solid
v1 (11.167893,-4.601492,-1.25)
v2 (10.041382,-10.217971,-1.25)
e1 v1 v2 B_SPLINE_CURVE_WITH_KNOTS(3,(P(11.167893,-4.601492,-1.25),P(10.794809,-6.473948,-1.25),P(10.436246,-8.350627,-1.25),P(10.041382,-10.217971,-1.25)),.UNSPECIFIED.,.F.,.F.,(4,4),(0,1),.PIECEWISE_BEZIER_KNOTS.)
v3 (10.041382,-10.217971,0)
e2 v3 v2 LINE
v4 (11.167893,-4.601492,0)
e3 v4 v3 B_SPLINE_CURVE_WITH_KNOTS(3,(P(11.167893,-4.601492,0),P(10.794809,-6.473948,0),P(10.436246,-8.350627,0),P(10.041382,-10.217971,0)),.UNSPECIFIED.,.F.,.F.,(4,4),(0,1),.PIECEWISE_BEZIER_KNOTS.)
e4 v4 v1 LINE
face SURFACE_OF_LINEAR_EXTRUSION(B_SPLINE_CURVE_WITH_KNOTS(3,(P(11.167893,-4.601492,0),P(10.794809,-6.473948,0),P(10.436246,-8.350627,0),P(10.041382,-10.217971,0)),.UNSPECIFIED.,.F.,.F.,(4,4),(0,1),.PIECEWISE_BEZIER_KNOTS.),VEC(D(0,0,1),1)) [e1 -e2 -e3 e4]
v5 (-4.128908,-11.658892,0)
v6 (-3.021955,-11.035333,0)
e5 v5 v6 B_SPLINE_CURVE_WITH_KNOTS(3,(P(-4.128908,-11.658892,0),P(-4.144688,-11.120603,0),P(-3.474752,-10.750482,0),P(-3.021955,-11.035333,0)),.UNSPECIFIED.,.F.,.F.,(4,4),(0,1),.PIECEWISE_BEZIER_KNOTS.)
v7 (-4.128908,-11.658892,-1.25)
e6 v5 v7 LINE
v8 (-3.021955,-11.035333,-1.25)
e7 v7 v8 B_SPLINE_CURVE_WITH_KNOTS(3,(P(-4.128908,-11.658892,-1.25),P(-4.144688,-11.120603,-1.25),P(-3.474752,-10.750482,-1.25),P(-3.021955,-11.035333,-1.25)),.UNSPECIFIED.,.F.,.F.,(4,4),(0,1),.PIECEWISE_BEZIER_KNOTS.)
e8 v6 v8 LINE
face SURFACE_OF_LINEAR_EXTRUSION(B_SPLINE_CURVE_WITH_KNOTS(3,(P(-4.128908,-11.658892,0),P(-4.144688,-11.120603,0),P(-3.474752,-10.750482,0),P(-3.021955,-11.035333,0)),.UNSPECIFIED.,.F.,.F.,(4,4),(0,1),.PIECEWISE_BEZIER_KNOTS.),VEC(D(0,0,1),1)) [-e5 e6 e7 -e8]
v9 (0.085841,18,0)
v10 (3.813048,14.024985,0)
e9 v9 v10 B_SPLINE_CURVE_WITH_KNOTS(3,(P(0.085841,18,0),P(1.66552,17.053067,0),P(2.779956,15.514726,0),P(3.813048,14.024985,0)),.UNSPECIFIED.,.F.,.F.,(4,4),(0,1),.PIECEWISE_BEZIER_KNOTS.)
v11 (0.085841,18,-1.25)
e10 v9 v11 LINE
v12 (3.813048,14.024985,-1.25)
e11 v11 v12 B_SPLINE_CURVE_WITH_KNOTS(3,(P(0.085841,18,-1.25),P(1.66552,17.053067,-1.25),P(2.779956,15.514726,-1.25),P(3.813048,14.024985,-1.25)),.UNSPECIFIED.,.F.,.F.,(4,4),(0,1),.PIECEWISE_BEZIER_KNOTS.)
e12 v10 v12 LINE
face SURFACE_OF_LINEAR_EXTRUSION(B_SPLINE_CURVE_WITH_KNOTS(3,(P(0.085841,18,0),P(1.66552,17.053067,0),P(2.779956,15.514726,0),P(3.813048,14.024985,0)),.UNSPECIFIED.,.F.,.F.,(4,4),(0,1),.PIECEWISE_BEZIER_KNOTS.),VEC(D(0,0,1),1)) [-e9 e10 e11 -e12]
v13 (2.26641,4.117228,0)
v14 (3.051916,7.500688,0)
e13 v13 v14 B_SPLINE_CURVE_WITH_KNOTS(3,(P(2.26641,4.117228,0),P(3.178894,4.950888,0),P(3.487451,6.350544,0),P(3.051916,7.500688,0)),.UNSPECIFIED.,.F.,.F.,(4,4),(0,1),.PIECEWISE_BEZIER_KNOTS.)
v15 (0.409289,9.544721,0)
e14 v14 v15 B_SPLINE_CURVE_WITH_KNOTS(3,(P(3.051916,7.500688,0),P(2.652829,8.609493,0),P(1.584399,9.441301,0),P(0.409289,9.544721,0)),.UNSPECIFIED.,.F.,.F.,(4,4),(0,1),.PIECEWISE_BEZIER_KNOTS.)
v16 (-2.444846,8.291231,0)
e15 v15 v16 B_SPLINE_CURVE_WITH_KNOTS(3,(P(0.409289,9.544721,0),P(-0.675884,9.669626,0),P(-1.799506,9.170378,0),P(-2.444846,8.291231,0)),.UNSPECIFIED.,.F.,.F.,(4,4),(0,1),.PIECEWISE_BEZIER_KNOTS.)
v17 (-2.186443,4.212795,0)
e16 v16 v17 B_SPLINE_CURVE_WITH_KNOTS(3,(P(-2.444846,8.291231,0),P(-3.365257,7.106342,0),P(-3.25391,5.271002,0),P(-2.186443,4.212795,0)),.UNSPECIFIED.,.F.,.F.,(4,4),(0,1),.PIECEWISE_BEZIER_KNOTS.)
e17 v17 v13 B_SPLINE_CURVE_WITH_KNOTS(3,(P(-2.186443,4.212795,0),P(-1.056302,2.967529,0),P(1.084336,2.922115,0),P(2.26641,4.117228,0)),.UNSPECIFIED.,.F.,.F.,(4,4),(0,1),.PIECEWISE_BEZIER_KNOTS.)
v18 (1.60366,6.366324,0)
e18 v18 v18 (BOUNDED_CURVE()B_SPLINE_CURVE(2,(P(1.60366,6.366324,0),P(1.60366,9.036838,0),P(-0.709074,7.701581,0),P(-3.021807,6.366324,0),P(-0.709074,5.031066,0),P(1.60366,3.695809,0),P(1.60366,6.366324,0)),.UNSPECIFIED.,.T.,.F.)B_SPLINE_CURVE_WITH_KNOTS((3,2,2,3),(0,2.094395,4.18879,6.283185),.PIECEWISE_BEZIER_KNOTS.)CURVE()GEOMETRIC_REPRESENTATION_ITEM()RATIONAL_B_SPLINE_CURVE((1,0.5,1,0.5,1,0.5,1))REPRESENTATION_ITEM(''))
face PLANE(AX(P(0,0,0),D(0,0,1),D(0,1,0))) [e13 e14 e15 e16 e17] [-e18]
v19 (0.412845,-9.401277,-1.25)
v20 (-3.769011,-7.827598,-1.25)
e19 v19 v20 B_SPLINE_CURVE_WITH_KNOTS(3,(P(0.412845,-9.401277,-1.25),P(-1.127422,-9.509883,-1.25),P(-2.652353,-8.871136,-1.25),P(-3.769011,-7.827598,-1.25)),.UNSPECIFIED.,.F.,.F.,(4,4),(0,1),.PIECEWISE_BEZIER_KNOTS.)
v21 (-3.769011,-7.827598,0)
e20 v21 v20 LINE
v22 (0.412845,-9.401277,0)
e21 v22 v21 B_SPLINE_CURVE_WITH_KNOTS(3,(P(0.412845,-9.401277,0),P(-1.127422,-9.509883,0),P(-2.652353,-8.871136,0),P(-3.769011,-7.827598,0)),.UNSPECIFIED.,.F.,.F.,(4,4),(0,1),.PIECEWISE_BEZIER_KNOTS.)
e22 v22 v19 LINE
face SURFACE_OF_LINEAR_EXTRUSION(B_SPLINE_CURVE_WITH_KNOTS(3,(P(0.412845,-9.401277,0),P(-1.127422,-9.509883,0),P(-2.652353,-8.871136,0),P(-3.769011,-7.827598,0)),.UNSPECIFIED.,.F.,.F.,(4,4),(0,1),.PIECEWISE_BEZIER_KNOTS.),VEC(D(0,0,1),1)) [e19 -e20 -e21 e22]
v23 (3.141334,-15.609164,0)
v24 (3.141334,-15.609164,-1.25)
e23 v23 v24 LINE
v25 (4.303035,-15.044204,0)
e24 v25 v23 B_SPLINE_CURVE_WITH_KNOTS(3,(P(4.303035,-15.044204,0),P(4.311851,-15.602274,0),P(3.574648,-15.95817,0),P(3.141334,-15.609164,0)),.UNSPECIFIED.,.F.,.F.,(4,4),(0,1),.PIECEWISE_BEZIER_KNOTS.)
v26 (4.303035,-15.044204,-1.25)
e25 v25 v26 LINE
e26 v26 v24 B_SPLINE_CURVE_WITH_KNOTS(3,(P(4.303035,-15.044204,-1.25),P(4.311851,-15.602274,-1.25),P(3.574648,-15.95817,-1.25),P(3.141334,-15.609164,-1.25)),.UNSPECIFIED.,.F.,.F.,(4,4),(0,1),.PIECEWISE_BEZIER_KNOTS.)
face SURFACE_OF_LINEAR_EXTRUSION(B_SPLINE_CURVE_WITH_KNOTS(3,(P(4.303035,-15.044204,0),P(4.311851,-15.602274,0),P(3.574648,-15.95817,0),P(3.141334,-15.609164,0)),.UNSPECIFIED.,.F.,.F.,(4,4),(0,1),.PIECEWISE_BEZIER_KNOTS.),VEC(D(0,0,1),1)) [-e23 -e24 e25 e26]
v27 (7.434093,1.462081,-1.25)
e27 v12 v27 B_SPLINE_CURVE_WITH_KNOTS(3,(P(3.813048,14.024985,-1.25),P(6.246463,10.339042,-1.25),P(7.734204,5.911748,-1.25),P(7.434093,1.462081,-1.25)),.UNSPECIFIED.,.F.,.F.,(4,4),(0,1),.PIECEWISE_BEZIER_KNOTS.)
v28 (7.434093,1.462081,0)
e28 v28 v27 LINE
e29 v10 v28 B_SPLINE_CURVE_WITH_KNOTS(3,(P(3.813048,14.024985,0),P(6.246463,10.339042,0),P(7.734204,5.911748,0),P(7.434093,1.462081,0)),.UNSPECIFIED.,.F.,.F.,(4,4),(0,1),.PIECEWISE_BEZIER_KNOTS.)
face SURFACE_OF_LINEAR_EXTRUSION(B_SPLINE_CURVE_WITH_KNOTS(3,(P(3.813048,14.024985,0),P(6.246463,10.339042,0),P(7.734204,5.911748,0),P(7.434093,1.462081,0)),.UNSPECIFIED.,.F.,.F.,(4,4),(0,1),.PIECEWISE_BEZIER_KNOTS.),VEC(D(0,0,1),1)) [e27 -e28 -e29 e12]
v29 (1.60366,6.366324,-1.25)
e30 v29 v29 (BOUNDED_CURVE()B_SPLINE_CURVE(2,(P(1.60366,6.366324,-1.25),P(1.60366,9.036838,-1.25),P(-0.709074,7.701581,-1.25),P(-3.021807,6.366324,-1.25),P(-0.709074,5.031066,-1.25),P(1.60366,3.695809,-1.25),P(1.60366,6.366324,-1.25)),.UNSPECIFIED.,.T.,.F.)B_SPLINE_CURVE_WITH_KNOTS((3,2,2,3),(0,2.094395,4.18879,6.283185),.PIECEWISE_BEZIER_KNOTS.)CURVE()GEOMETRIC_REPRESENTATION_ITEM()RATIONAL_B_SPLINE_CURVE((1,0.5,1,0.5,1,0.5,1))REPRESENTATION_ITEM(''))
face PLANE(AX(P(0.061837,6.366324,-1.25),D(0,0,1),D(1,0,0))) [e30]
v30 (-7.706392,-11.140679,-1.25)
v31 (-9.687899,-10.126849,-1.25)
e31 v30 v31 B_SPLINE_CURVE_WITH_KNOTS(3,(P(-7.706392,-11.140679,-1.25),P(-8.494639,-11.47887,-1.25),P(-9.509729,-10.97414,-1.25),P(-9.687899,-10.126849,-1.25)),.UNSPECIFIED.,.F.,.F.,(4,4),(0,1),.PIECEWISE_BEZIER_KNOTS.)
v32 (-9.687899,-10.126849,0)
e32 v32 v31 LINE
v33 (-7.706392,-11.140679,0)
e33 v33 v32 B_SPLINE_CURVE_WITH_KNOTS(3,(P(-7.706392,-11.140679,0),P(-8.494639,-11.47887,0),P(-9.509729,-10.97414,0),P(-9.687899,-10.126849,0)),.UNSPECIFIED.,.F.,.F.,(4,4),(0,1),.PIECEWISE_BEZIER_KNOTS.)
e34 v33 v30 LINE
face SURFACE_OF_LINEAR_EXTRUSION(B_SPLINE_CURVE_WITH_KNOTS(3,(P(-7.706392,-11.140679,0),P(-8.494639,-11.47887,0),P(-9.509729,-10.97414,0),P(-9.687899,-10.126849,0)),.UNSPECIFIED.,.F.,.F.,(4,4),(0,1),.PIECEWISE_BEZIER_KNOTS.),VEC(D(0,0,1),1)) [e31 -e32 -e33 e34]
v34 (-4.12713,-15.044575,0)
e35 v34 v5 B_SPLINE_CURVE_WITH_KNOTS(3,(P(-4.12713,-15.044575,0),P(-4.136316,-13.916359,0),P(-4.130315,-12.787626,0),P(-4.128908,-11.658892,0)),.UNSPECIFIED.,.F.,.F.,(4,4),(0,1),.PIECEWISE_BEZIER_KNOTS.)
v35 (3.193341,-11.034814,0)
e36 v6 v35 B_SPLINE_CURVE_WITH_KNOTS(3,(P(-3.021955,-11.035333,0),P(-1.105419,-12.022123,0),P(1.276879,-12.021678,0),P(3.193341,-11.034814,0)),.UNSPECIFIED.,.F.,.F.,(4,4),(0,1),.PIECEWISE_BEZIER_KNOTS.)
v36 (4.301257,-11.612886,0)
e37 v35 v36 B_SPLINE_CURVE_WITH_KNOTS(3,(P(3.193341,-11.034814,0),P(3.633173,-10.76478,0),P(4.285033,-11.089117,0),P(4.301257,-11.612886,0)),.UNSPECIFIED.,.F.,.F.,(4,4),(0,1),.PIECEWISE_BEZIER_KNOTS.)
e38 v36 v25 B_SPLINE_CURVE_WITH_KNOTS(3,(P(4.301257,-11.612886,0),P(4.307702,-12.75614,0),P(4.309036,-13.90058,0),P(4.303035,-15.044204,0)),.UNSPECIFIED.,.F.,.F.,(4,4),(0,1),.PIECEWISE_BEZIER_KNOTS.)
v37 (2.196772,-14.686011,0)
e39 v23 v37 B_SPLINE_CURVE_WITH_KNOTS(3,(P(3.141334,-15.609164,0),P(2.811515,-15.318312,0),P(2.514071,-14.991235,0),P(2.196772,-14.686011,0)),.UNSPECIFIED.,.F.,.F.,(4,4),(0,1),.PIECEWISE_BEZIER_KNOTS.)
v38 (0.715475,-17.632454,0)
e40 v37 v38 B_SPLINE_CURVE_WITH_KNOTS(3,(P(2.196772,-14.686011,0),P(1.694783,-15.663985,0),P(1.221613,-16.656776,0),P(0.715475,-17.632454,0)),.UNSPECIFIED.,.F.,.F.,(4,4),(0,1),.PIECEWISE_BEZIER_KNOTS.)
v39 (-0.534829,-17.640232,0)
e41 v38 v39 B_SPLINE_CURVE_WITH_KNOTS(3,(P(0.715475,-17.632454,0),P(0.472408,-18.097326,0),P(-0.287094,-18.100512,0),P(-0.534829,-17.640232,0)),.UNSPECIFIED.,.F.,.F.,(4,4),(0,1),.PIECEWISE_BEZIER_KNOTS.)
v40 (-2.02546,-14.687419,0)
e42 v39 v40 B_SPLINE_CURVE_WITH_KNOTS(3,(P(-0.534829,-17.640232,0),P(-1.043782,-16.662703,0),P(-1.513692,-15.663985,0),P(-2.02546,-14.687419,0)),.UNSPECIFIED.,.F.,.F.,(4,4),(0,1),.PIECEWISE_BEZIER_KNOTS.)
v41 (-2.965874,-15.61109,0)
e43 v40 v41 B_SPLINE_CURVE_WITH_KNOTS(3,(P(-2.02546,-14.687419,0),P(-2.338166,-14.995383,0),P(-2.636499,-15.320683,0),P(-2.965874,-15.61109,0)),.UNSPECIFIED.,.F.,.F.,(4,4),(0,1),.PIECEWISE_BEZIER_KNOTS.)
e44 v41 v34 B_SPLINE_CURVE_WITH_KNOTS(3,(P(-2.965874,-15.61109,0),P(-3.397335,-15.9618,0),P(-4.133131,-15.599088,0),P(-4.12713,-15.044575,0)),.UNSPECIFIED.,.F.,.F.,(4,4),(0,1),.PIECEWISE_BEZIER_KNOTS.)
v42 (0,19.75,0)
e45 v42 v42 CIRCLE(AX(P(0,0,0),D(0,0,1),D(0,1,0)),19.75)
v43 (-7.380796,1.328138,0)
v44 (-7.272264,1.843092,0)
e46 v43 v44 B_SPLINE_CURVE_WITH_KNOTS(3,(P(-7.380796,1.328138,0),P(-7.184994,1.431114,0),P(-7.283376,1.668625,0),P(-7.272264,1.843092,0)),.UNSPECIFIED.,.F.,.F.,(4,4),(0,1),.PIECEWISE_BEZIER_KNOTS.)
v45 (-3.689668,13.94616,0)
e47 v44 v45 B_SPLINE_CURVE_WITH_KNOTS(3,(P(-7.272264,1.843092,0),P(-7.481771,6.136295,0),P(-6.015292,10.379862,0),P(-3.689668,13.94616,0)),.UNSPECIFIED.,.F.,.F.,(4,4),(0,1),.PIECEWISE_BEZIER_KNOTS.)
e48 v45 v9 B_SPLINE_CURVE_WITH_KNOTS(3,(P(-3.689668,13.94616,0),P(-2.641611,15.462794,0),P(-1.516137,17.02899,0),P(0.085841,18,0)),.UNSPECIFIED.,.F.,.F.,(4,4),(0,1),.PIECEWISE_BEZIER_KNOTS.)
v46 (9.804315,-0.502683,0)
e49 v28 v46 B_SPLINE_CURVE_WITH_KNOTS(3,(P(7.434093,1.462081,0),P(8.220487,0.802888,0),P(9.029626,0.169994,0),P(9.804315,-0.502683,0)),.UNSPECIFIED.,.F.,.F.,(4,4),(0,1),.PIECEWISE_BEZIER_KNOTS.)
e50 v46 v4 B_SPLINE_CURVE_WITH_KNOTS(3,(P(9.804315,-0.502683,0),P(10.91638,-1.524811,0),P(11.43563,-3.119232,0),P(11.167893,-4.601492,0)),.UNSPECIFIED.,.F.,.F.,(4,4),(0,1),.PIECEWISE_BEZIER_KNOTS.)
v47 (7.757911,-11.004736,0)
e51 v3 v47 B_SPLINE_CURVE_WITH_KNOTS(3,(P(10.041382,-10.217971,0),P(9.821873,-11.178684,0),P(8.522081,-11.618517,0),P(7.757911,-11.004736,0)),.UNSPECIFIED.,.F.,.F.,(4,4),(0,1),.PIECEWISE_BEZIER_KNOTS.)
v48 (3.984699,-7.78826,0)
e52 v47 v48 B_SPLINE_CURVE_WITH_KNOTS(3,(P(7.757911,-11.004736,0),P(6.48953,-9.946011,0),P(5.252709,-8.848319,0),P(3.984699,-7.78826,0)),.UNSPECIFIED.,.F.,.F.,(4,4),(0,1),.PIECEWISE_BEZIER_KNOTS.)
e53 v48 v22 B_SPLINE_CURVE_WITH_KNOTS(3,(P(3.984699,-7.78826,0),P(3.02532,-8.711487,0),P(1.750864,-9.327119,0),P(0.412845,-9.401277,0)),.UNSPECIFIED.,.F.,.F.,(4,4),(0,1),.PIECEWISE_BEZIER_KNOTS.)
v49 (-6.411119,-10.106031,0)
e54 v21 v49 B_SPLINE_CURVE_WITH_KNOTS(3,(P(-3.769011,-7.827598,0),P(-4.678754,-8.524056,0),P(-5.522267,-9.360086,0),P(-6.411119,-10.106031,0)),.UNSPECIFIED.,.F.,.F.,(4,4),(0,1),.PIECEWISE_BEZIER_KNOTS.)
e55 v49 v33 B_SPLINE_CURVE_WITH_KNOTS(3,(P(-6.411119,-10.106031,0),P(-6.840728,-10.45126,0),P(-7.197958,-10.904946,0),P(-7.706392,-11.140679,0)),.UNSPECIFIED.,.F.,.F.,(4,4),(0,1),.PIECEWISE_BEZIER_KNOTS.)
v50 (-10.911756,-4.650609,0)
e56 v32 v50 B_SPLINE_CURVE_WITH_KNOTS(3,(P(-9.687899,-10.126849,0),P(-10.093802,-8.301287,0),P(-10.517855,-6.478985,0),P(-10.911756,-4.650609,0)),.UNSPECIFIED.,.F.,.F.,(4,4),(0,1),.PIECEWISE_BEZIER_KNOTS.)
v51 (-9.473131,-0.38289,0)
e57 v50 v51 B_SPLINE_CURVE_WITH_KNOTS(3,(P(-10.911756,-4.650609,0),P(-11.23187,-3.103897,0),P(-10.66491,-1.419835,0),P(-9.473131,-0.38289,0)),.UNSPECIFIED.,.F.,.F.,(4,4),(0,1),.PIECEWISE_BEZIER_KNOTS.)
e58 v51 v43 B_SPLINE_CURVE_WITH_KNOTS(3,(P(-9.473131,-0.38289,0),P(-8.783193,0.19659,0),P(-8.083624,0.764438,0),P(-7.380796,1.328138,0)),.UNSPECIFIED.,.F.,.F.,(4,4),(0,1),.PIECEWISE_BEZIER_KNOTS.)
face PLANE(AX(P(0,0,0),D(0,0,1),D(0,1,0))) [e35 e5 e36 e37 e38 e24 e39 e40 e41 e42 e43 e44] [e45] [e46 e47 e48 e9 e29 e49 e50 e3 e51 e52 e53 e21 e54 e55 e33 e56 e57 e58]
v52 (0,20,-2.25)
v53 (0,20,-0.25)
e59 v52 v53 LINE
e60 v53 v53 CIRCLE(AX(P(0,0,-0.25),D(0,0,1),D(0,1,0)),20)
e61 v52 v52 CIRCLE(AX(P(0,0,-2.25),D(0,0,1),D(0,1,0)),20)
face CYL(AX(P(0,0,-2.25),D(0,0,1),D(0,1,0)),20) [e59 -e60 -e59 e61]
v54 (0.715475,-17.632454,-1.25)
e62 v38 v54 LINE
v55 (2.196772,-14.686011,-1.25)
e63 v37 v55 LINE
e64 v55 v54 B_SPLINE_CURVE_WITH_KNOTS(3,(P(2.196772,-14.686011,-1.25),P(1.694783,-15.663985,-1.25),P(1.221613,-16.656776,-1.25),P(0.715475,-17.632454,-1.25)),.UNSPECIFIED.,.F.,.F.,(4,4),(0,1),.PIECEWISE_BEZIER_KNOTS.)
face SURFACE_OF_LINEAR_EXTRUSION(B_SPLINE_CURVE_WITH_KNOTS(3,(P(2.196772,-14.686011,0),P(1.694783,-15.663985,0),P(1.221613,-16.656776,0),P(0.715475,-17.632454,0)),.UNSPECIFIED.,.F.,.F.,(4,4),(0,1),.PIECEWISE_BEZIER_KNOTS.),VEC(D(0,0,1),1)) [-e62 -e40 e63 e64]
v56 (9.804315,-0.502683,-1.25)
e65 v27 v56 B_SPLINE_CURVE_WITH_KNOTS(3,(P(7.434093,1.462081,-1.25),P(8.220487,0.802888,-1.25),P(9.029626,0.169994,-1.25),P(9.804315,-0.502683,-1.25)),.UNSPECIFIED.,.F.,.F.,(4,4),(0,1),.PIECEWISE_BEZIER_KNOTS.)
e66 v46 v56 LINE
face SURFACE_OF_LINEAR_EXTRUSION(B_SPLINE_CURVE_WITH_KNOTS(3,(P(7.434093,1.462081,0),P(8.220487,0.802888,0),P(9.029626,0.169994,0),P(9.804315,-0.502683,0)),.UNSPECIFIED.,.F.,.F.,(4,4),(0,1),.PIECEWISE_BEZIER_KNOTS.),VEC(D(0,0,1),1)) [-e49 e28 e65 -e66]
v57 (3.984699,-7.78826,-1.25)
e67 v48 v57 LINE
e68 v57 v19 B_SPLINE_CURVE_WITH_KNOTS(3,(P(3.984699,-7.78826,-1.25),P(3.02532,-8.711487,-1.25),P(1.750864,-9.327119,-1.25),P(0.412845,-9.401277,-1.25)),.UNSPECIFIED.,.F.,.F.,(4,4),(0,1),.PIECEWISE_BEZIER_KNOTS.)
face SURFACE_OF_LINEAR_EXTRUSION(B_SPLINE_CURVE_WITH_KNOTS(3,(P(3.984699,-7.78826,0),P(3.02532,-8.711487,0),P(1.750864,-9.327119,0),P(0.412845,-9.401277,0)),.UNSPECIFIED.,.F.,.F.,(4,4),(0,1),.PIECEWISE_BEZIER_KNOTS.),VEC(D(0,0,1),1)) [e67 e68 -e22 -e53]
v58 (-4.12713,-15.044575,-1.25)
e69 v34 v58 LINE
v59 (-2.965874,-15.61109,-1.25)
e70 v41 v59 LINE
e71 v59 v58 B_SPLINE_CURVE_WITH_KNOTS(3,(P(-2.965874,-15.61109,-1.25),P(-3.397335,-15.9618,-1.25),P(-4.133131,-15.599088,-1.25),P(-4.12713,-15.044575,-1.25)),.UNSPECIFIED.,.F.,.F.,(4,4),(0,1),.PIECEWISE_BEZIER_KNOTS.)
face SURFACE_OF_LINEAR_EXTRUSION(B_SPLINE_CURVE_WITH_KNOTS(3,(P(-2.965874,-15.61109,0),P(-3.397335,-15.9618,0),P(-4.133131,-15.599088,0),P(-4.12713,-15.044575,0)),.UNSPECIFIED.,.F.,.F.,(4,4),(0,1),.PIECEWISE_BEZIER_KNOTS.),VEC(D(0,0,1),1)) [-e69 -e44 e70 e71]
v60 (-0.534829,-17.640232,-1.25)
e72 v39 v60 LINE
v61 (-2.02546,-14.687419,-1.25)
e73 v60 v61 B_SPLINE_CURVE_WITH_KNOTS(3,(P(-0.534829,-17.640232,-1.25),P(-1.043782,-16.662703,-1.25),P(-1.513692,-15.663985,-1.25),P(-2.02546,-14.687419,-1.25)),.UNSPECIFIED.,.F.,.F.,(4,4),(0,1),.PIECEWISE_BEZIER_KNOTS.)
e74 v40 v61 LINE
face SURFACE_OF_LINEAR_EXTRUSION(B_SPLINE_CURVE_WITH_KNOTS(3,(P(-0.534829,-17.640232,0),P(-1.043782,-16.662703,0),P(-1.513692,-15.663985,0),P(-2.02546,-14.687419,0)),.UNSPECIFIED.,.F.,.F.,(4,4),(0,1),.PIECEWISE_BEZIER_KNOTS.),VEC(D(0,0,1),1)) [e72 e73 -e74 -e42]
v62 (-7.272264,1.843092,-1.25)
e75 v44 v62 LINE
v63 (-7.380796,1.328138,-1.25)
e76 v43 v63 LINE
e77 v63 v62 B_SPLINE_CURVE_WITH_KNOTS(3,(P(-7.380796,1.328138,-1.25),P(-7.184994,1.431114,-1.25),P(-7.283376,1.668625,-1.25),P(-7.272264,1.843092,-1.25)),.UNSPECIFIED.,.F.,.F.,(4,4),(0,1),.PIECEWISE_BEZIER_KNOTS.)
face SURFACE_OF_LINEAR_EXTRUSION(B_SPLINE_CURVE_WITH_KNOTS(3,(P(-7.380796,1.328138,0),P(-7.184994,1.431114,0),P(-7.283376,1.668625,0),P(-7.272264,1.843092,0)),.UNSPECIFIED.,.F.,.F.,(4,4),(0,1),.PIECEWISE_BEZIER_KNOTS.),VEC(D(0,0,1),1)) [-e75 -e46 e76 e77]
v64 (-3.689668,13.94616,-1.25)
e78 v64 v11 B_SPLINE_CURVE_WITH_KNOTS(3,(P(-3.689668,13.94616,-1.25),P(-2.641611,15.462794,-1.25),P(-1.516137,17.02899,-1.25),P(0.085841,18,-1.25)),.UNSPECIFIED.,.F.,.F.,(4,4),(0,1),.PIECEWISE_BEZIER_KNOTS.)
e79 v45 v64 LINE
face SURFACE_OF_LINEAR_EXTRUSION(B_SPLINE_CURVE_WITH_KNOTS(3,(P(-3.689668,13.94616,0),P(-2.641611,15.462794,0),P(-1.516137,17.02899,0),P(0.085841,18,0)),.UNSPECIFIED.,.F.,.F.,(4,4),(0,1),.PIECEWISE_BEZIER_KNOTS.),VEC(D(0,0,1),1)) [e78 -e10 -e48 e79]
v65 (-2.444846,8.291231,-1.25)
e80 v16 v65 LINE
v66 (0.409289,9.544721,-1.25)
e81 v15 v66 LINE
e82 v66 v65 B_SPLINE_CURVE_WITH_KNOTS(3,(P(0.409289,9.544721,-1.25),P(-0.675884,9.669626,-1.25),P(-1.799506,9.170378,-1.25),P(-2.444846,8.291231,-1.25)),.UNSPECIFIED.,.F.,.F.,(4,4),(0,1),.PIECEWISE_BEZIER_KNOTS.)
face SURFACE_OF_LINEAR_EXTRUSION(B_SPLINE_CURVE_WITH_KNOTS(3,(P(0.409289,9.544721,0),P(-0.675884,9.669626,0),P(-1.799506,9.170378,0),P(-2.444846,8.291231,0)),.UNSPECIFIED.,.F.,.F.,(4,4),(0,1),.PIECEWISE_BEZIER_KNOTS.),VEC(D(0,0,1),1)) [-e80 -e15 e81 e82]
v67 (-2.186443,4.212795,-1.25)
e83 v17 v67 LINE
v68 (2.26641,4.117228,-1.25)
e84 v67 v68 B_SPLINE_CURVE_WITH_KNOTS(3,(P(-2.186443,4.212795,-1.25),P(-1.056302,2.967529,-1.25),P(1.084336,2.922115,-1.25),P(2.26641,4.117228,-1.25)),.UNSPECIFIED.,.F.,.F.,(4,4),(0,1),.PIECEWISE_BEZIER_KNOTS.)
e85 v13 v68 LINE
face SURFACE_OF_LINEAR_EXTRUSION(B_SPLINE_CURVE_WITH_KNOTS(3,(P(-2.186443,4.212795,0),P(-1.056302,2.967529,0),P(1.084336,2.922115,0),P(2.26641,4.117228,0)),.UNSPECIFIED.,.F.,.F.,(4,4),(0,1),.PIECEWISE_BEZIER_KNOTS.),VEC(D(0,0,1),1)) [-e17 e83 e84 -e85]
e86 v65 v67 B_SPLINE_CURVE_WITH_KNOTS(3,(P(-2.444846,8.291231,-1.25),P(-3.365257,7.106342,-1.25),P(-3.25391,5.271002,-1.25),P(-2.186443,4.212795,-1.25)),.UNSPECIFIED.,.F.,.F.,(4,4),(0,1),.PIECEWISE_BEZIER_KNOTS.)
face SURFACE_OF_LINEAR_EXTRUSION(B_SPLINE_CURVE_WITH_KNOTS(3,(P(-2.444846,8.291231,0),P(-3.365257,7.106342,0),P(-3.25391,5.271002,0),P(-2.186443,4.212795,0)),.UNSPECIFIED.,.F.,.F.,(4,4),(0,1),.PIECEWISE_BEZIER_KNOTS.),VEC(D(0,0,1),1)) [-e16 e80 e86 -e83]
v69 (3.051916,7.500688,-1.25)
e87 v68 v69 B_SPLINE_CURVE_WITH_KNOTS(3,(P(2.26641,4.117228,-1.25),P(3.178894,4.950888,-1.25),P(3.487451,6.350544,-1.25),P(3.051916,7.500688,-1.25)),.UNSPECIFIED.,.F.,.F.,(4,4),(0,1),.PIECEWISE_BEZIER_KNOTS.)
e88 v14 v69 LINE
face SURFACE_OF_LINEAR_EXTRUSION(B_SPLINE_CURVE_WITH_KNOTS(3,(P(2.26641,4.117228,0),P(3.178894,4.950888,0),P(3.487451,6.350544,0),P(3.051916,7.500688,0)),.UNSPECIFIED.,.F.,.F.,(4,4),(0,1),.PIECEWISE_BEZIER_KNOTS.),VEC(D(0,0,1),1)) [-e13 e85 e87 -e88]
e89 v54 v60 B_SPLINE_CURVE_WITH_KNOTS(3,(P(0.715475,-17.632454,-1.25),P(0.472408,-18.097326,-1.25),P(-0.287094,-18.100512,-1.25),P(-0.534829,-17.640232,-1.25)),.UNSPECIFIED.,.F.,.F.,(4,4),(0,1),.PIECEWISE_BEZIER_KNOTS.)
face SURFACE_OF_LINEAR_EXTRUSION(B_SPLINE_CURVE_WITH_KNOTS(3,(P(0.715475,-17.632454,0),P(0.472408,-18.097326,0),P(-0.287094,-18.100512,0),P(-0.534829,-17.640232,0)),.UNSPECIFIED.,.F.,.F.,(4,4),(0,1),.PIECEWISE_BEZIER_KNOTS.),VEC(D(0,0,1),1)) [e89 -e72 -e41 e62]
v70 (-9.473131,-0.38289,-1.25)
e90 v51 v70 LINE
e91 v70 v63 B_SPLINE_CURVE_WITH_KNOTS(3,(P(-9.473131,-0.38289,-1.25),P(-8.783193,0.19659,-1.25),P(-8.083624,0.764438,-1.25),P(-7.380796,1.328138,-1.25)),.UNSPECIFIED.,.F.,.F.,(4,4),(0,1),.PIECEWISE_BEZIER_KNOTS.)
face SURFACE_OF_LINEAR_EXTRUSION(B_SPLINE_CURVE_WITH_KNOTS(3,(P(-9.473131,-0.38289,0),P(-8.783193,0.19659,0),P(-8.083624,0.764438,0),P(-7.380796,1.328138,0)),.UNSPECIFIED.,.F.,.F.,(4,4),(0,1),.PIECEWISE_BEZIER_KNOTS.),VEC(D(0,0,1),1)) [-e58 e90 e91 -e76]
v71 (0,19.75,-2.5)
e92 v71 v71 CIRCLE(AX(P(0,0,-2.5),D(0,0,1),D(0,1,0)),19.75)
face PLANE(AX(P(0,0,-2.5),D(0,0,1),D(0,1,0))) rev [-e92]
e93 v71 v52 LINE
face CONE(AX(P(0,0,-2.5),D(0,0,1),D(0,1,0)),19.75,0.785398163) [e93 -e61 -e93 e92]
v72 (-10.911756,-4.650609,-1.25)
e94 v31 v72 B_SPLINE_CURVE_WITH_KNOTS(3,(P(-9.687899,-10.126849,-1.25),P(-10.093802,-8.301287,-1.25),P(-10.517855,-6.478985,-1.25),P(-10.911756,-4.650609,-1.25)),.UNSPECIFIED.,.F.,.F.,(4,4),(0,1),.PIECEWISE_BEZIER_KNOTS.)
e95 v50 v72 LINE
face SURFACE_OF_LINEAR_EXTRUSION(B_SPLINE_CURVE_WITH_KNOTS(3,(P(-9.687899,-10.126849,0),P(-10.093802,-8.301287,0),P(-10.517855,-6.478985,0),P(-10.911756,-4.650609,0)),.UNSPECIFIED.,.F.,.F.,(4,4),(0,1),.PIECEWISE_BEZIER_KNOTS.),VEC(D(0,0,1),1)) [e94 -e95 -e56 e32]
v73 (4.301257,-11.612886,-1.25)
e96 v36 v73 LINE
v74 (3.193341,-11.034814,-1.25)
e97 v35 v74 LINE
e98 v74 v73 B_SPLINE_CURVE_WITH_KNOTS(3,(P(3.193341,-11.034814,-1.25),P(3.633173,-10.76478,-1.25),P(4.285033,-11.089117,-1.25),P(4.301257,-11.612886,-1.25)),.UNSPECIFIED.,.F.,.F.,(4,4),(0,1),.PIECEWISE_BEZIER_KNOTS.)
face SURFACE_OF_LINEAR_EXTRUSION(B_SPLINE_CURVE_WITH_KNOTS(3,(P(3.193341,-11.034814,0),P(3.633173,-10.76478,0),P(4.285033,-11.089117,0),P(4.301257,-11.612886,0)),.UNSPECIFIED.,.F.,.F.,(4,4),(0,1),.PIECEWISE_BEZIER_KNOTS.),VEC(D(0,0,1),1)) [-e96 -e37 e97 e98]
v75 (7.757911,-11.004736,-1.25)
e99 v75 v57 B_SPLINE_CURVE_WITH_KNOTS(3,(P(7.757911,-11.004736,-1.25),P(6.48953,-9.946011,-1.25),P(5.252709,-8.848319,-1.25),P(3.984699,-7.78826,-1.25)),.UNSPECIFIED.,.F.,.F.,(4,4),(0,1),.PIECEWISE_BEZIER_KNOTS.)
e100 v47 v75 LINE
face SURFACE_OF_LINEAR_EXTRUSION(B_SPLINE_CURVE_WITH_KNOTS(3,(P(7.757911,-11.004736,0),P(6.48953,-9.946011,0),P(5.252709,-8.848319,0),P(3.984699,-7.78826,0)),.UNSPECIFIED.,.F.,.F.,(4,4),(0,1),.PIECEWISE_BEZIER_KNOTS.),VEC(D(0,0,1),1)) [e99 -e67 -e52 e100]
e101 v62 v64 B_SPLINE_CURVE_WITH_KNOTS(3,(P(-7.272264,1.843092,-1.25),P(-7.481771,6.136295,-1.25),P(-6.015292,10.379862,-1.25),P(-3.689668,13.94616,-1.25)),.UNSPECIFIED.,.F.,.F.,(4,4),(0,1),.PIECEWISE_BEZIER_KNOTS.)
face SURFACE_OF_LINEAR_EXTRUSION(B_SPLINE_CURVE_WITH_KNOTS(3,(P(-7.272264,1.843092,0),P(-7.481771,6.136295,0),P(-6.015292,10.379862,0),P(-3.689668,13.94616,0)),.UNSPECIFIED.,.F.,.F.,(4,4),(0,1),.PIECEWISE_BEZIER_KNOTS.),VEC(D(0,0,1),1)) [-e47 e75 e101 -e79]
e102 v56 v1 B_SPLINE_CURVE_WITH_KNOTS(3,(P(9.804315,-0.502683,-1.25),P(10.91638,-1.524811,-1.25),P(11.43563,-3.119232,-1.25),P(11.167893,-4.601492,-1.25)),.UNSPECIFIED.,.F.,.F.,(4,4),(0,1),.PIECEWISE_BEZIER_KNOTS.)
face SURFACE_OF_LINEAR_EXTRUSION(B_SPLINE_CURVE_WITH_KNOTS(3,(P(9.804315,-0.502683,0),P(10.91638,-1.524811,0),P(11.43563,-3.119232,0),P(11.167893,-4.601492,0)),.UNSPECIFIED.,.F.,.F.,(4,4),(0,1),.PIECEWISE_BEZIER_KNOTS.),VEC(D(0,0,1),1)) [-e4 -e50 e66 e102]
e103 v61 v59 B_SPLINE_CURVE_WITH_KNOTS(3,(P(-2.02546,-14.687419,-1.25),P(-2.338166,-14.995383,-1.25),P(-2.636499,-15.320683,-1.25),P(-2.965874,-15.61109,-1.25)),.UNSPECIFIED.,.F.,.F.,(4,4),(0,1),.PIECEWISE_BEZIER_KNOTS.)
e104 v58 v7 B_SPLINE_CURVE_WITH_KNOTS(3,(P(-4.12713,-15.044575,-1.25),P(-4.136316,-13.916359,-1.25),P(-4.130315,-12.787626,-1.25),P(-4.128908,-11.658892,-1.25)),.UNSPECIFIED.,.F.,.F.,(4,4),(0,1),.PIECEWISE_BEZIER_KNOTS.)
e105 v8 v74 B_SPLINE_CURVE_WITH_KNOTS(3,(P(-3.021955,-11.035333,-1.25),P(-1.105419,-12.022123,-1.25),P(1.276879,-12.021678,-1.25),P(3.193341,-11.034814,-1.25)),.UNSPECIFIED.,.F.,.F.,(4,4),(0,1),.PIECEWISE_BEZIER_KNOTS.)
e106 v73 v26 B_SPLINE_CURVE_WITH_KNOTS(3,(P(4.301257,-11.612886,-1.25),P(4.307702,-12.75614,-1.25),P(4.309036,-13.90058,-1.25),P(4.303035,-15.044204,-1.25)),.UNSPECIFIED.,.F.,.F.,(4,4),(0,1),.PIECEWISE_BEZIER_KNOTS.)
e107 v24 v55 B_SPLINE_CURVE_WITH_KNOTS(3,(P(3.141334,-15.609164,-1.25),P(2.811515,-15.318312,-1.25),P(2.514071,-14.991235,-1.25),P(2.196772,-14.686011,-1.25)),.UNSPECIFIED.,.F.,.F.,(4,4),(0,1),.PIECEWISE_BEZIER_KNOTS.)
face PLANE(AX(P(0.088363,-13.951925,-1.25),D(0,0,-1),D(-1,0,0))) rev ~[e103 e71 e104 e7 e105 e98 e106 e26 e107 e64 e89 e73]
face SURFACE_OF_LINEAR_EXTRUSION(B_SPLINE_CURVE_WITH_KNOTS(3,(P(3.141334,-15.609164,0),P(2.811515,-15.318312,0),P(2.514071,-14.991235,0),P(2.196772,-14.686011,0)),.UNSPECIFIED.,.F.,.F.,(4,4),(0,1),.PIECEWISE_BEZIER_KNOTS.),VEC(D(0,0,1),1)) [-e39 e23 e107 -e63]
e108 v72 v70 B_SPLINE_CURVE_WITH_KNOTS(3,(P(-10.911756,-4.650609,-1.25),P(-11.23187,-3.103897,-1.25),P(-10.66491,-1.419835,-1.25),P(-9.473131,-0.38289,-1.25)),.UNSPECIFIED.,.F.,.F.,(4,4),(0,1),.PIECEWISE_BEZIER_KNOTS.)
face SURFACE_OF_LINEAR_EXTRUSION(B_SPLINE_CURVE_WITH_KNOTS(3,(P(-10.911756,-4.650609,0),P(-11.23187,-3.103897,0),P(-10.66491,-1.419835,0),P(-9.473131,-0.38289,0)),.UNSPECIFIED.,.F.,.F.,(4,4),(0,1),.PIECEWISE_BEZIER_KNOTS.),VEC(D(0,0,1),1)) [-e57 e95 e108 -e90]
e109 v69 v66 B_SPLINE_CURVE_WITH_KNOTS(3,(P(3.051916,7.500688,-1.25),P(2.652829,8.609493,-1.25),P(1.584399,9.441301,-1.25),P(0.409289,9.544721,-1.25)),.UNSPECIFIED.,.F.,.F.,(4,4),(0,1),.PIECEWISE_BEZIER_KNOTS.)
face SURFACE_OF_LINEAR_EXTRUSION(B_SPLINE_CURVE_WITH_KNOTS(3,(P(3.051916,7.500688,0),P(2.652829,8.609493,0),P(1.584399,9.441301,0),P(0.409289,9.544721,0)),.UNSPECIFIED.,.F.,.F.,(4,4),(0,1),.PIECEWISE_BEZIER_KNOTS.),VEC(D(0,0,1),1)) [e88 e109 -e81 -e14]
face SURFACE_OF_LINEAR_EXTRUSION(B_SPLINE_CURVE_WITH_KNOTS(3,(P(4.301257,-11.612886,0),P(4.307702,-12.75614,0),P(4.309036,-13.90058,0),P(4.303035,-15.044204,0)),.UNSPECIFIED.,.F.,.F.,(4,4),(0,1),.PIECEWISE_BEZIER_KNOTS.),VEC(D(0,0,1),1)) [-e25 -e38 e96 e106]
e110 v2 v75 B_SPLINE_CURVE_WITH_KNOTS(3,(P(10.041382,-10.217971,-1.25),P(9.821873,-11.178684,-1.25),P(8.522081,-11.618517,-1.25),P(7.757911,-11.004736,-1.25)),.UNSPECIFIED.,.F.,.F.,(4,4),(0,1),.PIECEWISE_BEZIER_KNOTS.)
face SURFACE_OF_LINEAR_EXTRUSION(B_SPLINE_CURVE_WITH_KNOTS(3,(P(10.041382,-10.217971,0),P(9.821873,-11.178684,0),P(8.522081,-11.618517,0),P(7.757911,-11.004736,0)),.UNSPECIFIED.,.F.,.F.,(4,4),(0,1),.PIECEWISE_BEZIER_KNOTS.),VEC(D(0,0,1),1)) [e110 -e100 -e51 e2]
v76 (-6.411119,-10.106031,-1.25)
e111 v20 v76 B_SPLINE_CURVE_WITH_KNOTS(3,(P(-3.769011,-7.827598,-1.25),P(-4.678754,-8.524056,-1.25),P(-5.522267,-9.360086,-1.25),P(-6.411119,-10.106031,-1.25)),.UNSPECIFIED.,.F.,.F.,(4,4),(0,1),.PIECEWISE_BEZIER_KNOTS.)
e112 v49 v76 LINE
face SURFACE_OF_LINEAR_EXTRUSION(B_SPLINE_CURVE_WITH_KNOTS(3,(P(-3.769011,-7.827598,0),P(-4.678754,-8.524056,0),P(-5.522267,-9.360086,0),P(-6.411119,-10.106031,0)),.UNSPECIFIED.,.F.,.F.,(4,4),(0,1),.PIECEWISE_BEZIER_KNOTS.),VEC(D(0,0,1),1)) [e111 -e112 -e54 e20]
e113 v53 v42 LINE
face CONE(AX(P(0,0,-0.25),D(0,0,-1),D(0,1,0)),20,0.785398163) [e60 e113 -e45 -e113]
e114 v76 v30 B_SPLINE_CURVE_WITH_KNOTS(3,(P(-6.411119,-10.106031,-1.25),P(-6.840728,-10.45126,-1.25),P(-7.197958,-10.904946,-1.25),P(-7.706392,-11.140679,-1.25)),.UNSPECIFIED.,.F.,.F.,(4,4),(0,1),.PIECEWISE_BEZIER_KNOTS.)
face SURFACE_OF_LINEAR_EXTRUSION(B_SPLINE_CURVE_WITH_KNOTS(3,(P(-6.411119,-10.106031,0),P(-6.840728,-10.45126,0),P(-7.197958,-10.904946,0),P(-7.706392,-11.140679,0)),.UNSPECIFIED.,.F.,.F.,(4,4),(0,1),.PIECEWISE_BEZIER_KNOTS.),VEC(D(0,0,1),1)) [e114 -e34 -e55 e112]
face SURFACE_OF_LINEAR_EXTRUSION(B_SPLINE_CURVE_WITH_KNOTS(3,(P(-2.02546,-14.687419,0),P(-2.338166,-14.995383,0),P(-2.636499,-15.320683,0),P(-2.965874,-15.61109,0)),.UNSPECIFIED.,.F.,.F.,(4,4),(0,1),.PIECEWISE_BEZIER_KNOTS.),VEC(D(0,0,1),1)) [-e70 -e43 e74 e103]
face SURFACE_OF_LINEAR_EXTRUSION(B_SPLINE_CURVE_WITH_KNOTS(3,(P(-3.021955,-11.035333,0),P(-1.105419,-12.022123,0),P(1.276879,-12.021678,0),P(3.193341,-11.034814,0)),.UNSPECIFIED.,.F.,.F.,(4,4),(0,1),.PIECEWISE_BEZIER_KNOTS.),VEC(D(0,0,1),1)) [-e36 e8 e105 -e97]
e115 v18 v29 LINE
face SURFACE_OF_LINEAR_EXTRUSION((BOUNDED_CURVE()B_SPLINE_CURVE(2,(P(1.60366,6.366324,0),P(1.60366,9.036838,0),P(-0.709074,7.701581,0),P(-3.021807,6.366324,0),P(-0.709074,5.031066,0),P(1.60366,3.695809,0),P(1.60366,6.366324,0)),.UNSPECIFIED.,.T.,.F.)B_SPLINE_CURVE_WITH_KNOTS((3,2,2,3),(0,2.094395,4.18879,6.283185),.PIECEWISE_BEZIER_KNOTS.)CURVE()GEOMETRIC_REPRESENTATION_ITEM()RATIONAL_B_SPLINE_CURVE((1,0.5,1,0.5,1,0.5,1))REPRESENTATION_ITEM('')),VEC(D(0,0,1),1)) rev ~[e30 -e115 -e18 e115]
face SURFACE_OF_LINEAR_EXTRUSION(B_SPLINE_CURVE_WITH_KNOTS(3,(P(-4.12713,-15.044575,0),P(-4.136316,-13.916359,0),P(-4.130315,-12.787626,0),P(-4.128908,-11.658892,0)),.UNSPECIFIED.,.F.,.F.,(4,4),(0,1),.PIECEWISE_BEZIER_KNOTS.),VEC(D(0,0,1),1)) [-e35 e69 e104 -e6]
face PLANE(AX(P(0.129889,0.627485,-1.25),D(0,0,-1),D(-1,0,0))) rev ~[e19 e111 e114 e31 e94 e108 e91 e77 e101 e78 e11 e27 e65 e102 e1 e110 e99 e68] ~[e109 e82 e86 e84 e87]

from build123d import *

# Parameters (mm, degrees)
POCKET_DEPTH = 1.25


with BuildPart() as part:
    # Sketch (on DatumPlane) → Revolution (revolve)
    with BuildSketch(Plane.YZ):
        Polygon((0, 0), (0, -2.5), (19.75, -2.5), (20, -2.25), (20, -0.25), (19.75, 0), align=None)
    revolve(axis=Axis((0, 0, 0), (0, 0, 1)))

    # Sketch005 → Pocket (cut)
    with BuildSketch(Plane.XY):
        with BuildLine():
            add(Edge.make_bspline(
                [(-3.689668, 13.94616), (-2.641611, 15.462794), (-1.516137, 17.02899), (0.085841, 18)],
                knots=[0, 0, 0, 0, 1, 1, 1, 1], degree=3))
            add(Edge.make_bspline(
                [(0.085841, 18), (1.66552, 17.053067), (2.779956, 15.514726), (3.813048, 14.024985)],
                knots=[0, 0, 0, 0, 1, 1, 1, 1], degree=3))
            add(Edge.make_bspline(
                [(3.813048, 14.024985), (6.246463, 10.339042), (7.734204, 5.911748), (7.434093, 1.462081)],
                knots=[0, 0, 0, 0, 1, 1, 1, 1], degree=3))
            add(Edge.make_bspline(
                [(7.434093, 1.462081), (8.220487, 0.802888), (9.029626, 0.169994), (9.804315, -0.502683)],
                knots=[0, 0, 0, 0, 1, 1, 1, 1], degree=3))
            add(Edge.make_bspline(
                [(9.804315, -0.502683), (10.91638, -1.524811), (11.43563, -3.119232), (11.167893, -4.601492)],
                knots=[0, 0, 0, 0, 1, 1, 1, 1], degree=3))
            add(Edge.make_bspline(
                [(11.167893, -4.601492), (10.794809, -6.473948), (10.436246, -8.350627), (10.041382, -10.217971)],
                knots=[0, 0, 0, 0, 1, 1, 1, 1], degree=3))
            add(Edge.make_bspline(
                [(10.041382, -10.217971), (9.821873, -11.178684), (8.522081, -11.618517), (7.757911, -11.004736)],
                knots=[0, 0, 0, 0, 1, 1, 1, 1], degree=3))
            add(Edge.make_bspline(
                [(7.757911, -11.004736), (6.48953, -9.946011), (5.252709, -8.848319), (3.984699, -7.78826)],
                knots=[0, 0, 0, 0, 1, 1, 1, 1], degree=3))
            add(Edge.make_bspline(
                [(3.984699, -7.78826), (3.02532, -8.711487), (1.750864, -9.327119), (0.412845, -9.401277)],
                knots=[0, 0, 0, 0, 1, 1, 1, 1], degree=3))
            add(Edge.make_bspline(
                [(0.412845, -9.401277), (-1.127422, -9.509883), (-2.652353, -8.871136), (-3.769011, -7.827598)],
                knots=[0, 0, 0, 0, 1, 1, 1, 1], degree=3))
            add(Edge.make_bspline(
                [(-3.769011, -7.827598), (-4.678754, -8.524056), (-5.522267, -9.360086), (-6.411119, -10.106031)],
                knots=[0, 0, 0, 0, 1, 1, 1, 1], degree=3))
            add(Edge.make_bspline(
                [(-6.411119, -10.106031), (-6.840728, -10.45126), (-7.197958, -10.904946), (-7.706392, -11.140679)],
                knots=[0, 0, 0, 0, 1, 1, 1, 1], degree=3))
            add(Edge.make_bspline(
                [(-7.706392, -11.140679), (-8.494639, -11.47887), (-9.509729, -10.97414), (-9.687899, -10.126849)],
                knots=[0, 0, 0, 0, 1, 1, 1, 1], degree=3))
            add(Edge.make_bspline(
                [(-9.687899, -10.126849), (-10.093802, -8.301287), (-10.517855, -6.478985), (-10.911756, -4.650609)],
                knots=[0, 0, 0, 0, 1, 1, 1, 1], degree=3))
            add(Edge.make_bspline(
                [(-10.911756, -4.650609), (-11.23187, -3.103897), (-10.66491, -1.419835), (-9.473131, -0.38289)],
                knots=[0, 0, 0, 0, 1, 1, 1, 1], degree=3))
            add(Edge.make_bspline(
                [(-9.473131, -0.38289), (-8.783193, 0.19659), (-8.083624, 0.764438), (-7.380796, 1.328138)],
                knots=[0, 0, 0, 0, 1, 1, 1, 1], degree=3))
            add(Edge.make_bspline(
                [(-7.380796, 1.328138), (-7.184994, 1.431114), (-7.283376, 1.668625), (-7.272264, 1.843092)],
                knots=[0, 0, 0, 0, 1, 1, 1, 1], degree=3))
            add(Edge.make_bspline(
                [(-7.272264, 1.843092), (-7.481771, 6.136295), (-6.015292, 10.379862), (-3.689668, 13.94616)],
                knots=[0, 0, 0, 0, 1, 1, 1, 1], degree=3))
        make_face()
        with BuildLine():
            add(Edge.make_bspline(
                [(-2.444846, 8.291231), (-3.365257, 7.106342), (-3.25391, 5.271002), (-2.186443, 4.212795)],
                knots=[0, 0, 0, 0, 1, 1, 1, 1], degree=3))
            add(Edge.make_bspline(
                [(-2.186443, 4.212795), (-1.056302, 2.967529), (1.084336, 2.922115), (2.26641, 4.117228)],
                knots=[0, 0, 0, 0, 1, 1, 1, 1], degree=3))
            add(Edge.make_bspline(
                [(2.26641, 4.117228), (3.178894, 4.950888), (3.487451, 6.350544), (3.051916, 7.500688)],
                knots=[0, 0, 0, 0, 1, 1, 1, 1], degree=3))
            add(Edge.make_bspline(
                [(3.051916, 7.500688), (2.652829, 8.609493), (1.584399, 9.441301), (0.409289, 9.544721)],
                knots=[0, 0, 0, 0, 1, 1, 1, 1], degree=3))
            add(Edge.make_bspline(
                [(0.409289, 9.544721), (-0.675884, 9.669626), (-1.799506, 9.170378), (-2.444846, 8.291231)],
                knots=[0, 0, 0, 0, 1, 1, 1, 1], degree=3))
        make_face(mode=Mode.SUBTRACT)
        with BuildLine():
            add(Edge.make_bspline(
                [(-4.128908, -11.658892), (-4.144688, -11.120603), (-3.474752, -10.750482), (-3.021955, -11.035333)],
                knots=[0, 0, 0, 0, 1, 1, 1, 1], degree=3))
            add(Edge.make_bspline(
                [(-3.021955, -11.035333), (-1.105419, -12.022123), (1.276879, -12.021678), (3.193341, -11.034814)],
                knots=[0, 0, 0, 0, 1, 1, 1, 1], degree=3))
            add(Edge.make_bspline(
                [(3.193341, -11.034814), (3.633173, -10.76478), (4.285033, -11.089117), (4.301257, -11.612886)],
                knots=[0, 0, 0, 0, 1, 1, 1, 1], degree=3))
            add(Edge.make_bspline(
                [(4.301257, -11.612886), (4.307702, -12.75614), (4.309036, -13.90058), (4.303035, -15.044204)],
                knots=[0, 0, 0, 0, 1, 1, 1, 1], degree=3))
            add(Edge.make_bspline(
                [(4.303035, -15.044204), (4.311851, -15.602274), (3.574648, -15.95817), (3.141334, -15.609164)],
                knots=[0, 0, 0, 0, 1, 1, 1, 1], degree=3))
            add(Edge.make_bspline(
                [(3.141334, -15.609164), (2.811515, -15.318312), (2.514071, -14.991235), (2.196772, -14.686011)],
                knots=[0, 0, 0, 0, 1, 1, 1, 1], degree=3))
            add(Edge.make_bspline(
                [(2.196772, -14.686011), (1.694783, -15.663985), (1.221613, -16.656776), (0.715475, -17.632454)],
                knots=[0, 0, 0, 0, 1, 1, 1, 1], degree=3))
            add(Edge.make_bspline(
                [(0.715475, -17.632454), (0.472408, -18.097326), (-0.287094, -18.100512), (-0.534829, -17.640232)],
                knots=[0, 0, 0, 0, 1, 1, 1, 1], degree=3))
            add(Edge.make_bspline(
                [(-0.534829, -17.640232), (-1.043782, -16.662703), (-1.513692, -15.663985), (-2.02546, -14.687419)],
                knots=[0, 0, 0, 0, 1, 1, 1, 1], degree=3))
            add(Edge.make_bspline(
                [(-2.02546, -14.687419), (-2.338166, -14.995383), (-2.636499, -15.320683), (-2.965874, -15.61109)],
                knots=[0, 0, 0, 0, 1, 1, 1, 1], degree=3))
            add(Edge.make_bspline(
                [(-2.965874, -15.61109), (-3.397335, -15.9618), (-4.133131, -15.599088), (-4.12713, -15.044575)],
                knots=[0, 0, 0, 0, 1, 1, 1, 1], degree=3))
            add(Edge.make_bspline(
                [(-4.12713, -15.044575), (-4.136316, -13.916359), (-4.130315, -12.787626), (-4.128908, -11.658892)],
                knots=[0, 0, 0, 0, 1, 1, 1, 1], degree=3))
        make_face()
        with BuildLine():
            add(Edge.make_bspline(
                [(1.60366, 6.366324), (1.60366, 9.036838), (-0.709074, 7.701581), (-3.021807, 6.366324), (-0.709074, 5.031066), (1.60366, 3.695809), (1.60366, 6.366324)],
                knots=[0, 0, 0, 2.094395, 2.094395, 4.18879, 4.18879, 6.283185, 6.283185, 6.283185], degree=2, weights=[1, 0.5, 1, 0.5, 1, 0.5, 1]))
        make_face()
    extrude(amount=-POCKET_DEPTH, mode=Mode.SUBTRACT)


solid = part.part
